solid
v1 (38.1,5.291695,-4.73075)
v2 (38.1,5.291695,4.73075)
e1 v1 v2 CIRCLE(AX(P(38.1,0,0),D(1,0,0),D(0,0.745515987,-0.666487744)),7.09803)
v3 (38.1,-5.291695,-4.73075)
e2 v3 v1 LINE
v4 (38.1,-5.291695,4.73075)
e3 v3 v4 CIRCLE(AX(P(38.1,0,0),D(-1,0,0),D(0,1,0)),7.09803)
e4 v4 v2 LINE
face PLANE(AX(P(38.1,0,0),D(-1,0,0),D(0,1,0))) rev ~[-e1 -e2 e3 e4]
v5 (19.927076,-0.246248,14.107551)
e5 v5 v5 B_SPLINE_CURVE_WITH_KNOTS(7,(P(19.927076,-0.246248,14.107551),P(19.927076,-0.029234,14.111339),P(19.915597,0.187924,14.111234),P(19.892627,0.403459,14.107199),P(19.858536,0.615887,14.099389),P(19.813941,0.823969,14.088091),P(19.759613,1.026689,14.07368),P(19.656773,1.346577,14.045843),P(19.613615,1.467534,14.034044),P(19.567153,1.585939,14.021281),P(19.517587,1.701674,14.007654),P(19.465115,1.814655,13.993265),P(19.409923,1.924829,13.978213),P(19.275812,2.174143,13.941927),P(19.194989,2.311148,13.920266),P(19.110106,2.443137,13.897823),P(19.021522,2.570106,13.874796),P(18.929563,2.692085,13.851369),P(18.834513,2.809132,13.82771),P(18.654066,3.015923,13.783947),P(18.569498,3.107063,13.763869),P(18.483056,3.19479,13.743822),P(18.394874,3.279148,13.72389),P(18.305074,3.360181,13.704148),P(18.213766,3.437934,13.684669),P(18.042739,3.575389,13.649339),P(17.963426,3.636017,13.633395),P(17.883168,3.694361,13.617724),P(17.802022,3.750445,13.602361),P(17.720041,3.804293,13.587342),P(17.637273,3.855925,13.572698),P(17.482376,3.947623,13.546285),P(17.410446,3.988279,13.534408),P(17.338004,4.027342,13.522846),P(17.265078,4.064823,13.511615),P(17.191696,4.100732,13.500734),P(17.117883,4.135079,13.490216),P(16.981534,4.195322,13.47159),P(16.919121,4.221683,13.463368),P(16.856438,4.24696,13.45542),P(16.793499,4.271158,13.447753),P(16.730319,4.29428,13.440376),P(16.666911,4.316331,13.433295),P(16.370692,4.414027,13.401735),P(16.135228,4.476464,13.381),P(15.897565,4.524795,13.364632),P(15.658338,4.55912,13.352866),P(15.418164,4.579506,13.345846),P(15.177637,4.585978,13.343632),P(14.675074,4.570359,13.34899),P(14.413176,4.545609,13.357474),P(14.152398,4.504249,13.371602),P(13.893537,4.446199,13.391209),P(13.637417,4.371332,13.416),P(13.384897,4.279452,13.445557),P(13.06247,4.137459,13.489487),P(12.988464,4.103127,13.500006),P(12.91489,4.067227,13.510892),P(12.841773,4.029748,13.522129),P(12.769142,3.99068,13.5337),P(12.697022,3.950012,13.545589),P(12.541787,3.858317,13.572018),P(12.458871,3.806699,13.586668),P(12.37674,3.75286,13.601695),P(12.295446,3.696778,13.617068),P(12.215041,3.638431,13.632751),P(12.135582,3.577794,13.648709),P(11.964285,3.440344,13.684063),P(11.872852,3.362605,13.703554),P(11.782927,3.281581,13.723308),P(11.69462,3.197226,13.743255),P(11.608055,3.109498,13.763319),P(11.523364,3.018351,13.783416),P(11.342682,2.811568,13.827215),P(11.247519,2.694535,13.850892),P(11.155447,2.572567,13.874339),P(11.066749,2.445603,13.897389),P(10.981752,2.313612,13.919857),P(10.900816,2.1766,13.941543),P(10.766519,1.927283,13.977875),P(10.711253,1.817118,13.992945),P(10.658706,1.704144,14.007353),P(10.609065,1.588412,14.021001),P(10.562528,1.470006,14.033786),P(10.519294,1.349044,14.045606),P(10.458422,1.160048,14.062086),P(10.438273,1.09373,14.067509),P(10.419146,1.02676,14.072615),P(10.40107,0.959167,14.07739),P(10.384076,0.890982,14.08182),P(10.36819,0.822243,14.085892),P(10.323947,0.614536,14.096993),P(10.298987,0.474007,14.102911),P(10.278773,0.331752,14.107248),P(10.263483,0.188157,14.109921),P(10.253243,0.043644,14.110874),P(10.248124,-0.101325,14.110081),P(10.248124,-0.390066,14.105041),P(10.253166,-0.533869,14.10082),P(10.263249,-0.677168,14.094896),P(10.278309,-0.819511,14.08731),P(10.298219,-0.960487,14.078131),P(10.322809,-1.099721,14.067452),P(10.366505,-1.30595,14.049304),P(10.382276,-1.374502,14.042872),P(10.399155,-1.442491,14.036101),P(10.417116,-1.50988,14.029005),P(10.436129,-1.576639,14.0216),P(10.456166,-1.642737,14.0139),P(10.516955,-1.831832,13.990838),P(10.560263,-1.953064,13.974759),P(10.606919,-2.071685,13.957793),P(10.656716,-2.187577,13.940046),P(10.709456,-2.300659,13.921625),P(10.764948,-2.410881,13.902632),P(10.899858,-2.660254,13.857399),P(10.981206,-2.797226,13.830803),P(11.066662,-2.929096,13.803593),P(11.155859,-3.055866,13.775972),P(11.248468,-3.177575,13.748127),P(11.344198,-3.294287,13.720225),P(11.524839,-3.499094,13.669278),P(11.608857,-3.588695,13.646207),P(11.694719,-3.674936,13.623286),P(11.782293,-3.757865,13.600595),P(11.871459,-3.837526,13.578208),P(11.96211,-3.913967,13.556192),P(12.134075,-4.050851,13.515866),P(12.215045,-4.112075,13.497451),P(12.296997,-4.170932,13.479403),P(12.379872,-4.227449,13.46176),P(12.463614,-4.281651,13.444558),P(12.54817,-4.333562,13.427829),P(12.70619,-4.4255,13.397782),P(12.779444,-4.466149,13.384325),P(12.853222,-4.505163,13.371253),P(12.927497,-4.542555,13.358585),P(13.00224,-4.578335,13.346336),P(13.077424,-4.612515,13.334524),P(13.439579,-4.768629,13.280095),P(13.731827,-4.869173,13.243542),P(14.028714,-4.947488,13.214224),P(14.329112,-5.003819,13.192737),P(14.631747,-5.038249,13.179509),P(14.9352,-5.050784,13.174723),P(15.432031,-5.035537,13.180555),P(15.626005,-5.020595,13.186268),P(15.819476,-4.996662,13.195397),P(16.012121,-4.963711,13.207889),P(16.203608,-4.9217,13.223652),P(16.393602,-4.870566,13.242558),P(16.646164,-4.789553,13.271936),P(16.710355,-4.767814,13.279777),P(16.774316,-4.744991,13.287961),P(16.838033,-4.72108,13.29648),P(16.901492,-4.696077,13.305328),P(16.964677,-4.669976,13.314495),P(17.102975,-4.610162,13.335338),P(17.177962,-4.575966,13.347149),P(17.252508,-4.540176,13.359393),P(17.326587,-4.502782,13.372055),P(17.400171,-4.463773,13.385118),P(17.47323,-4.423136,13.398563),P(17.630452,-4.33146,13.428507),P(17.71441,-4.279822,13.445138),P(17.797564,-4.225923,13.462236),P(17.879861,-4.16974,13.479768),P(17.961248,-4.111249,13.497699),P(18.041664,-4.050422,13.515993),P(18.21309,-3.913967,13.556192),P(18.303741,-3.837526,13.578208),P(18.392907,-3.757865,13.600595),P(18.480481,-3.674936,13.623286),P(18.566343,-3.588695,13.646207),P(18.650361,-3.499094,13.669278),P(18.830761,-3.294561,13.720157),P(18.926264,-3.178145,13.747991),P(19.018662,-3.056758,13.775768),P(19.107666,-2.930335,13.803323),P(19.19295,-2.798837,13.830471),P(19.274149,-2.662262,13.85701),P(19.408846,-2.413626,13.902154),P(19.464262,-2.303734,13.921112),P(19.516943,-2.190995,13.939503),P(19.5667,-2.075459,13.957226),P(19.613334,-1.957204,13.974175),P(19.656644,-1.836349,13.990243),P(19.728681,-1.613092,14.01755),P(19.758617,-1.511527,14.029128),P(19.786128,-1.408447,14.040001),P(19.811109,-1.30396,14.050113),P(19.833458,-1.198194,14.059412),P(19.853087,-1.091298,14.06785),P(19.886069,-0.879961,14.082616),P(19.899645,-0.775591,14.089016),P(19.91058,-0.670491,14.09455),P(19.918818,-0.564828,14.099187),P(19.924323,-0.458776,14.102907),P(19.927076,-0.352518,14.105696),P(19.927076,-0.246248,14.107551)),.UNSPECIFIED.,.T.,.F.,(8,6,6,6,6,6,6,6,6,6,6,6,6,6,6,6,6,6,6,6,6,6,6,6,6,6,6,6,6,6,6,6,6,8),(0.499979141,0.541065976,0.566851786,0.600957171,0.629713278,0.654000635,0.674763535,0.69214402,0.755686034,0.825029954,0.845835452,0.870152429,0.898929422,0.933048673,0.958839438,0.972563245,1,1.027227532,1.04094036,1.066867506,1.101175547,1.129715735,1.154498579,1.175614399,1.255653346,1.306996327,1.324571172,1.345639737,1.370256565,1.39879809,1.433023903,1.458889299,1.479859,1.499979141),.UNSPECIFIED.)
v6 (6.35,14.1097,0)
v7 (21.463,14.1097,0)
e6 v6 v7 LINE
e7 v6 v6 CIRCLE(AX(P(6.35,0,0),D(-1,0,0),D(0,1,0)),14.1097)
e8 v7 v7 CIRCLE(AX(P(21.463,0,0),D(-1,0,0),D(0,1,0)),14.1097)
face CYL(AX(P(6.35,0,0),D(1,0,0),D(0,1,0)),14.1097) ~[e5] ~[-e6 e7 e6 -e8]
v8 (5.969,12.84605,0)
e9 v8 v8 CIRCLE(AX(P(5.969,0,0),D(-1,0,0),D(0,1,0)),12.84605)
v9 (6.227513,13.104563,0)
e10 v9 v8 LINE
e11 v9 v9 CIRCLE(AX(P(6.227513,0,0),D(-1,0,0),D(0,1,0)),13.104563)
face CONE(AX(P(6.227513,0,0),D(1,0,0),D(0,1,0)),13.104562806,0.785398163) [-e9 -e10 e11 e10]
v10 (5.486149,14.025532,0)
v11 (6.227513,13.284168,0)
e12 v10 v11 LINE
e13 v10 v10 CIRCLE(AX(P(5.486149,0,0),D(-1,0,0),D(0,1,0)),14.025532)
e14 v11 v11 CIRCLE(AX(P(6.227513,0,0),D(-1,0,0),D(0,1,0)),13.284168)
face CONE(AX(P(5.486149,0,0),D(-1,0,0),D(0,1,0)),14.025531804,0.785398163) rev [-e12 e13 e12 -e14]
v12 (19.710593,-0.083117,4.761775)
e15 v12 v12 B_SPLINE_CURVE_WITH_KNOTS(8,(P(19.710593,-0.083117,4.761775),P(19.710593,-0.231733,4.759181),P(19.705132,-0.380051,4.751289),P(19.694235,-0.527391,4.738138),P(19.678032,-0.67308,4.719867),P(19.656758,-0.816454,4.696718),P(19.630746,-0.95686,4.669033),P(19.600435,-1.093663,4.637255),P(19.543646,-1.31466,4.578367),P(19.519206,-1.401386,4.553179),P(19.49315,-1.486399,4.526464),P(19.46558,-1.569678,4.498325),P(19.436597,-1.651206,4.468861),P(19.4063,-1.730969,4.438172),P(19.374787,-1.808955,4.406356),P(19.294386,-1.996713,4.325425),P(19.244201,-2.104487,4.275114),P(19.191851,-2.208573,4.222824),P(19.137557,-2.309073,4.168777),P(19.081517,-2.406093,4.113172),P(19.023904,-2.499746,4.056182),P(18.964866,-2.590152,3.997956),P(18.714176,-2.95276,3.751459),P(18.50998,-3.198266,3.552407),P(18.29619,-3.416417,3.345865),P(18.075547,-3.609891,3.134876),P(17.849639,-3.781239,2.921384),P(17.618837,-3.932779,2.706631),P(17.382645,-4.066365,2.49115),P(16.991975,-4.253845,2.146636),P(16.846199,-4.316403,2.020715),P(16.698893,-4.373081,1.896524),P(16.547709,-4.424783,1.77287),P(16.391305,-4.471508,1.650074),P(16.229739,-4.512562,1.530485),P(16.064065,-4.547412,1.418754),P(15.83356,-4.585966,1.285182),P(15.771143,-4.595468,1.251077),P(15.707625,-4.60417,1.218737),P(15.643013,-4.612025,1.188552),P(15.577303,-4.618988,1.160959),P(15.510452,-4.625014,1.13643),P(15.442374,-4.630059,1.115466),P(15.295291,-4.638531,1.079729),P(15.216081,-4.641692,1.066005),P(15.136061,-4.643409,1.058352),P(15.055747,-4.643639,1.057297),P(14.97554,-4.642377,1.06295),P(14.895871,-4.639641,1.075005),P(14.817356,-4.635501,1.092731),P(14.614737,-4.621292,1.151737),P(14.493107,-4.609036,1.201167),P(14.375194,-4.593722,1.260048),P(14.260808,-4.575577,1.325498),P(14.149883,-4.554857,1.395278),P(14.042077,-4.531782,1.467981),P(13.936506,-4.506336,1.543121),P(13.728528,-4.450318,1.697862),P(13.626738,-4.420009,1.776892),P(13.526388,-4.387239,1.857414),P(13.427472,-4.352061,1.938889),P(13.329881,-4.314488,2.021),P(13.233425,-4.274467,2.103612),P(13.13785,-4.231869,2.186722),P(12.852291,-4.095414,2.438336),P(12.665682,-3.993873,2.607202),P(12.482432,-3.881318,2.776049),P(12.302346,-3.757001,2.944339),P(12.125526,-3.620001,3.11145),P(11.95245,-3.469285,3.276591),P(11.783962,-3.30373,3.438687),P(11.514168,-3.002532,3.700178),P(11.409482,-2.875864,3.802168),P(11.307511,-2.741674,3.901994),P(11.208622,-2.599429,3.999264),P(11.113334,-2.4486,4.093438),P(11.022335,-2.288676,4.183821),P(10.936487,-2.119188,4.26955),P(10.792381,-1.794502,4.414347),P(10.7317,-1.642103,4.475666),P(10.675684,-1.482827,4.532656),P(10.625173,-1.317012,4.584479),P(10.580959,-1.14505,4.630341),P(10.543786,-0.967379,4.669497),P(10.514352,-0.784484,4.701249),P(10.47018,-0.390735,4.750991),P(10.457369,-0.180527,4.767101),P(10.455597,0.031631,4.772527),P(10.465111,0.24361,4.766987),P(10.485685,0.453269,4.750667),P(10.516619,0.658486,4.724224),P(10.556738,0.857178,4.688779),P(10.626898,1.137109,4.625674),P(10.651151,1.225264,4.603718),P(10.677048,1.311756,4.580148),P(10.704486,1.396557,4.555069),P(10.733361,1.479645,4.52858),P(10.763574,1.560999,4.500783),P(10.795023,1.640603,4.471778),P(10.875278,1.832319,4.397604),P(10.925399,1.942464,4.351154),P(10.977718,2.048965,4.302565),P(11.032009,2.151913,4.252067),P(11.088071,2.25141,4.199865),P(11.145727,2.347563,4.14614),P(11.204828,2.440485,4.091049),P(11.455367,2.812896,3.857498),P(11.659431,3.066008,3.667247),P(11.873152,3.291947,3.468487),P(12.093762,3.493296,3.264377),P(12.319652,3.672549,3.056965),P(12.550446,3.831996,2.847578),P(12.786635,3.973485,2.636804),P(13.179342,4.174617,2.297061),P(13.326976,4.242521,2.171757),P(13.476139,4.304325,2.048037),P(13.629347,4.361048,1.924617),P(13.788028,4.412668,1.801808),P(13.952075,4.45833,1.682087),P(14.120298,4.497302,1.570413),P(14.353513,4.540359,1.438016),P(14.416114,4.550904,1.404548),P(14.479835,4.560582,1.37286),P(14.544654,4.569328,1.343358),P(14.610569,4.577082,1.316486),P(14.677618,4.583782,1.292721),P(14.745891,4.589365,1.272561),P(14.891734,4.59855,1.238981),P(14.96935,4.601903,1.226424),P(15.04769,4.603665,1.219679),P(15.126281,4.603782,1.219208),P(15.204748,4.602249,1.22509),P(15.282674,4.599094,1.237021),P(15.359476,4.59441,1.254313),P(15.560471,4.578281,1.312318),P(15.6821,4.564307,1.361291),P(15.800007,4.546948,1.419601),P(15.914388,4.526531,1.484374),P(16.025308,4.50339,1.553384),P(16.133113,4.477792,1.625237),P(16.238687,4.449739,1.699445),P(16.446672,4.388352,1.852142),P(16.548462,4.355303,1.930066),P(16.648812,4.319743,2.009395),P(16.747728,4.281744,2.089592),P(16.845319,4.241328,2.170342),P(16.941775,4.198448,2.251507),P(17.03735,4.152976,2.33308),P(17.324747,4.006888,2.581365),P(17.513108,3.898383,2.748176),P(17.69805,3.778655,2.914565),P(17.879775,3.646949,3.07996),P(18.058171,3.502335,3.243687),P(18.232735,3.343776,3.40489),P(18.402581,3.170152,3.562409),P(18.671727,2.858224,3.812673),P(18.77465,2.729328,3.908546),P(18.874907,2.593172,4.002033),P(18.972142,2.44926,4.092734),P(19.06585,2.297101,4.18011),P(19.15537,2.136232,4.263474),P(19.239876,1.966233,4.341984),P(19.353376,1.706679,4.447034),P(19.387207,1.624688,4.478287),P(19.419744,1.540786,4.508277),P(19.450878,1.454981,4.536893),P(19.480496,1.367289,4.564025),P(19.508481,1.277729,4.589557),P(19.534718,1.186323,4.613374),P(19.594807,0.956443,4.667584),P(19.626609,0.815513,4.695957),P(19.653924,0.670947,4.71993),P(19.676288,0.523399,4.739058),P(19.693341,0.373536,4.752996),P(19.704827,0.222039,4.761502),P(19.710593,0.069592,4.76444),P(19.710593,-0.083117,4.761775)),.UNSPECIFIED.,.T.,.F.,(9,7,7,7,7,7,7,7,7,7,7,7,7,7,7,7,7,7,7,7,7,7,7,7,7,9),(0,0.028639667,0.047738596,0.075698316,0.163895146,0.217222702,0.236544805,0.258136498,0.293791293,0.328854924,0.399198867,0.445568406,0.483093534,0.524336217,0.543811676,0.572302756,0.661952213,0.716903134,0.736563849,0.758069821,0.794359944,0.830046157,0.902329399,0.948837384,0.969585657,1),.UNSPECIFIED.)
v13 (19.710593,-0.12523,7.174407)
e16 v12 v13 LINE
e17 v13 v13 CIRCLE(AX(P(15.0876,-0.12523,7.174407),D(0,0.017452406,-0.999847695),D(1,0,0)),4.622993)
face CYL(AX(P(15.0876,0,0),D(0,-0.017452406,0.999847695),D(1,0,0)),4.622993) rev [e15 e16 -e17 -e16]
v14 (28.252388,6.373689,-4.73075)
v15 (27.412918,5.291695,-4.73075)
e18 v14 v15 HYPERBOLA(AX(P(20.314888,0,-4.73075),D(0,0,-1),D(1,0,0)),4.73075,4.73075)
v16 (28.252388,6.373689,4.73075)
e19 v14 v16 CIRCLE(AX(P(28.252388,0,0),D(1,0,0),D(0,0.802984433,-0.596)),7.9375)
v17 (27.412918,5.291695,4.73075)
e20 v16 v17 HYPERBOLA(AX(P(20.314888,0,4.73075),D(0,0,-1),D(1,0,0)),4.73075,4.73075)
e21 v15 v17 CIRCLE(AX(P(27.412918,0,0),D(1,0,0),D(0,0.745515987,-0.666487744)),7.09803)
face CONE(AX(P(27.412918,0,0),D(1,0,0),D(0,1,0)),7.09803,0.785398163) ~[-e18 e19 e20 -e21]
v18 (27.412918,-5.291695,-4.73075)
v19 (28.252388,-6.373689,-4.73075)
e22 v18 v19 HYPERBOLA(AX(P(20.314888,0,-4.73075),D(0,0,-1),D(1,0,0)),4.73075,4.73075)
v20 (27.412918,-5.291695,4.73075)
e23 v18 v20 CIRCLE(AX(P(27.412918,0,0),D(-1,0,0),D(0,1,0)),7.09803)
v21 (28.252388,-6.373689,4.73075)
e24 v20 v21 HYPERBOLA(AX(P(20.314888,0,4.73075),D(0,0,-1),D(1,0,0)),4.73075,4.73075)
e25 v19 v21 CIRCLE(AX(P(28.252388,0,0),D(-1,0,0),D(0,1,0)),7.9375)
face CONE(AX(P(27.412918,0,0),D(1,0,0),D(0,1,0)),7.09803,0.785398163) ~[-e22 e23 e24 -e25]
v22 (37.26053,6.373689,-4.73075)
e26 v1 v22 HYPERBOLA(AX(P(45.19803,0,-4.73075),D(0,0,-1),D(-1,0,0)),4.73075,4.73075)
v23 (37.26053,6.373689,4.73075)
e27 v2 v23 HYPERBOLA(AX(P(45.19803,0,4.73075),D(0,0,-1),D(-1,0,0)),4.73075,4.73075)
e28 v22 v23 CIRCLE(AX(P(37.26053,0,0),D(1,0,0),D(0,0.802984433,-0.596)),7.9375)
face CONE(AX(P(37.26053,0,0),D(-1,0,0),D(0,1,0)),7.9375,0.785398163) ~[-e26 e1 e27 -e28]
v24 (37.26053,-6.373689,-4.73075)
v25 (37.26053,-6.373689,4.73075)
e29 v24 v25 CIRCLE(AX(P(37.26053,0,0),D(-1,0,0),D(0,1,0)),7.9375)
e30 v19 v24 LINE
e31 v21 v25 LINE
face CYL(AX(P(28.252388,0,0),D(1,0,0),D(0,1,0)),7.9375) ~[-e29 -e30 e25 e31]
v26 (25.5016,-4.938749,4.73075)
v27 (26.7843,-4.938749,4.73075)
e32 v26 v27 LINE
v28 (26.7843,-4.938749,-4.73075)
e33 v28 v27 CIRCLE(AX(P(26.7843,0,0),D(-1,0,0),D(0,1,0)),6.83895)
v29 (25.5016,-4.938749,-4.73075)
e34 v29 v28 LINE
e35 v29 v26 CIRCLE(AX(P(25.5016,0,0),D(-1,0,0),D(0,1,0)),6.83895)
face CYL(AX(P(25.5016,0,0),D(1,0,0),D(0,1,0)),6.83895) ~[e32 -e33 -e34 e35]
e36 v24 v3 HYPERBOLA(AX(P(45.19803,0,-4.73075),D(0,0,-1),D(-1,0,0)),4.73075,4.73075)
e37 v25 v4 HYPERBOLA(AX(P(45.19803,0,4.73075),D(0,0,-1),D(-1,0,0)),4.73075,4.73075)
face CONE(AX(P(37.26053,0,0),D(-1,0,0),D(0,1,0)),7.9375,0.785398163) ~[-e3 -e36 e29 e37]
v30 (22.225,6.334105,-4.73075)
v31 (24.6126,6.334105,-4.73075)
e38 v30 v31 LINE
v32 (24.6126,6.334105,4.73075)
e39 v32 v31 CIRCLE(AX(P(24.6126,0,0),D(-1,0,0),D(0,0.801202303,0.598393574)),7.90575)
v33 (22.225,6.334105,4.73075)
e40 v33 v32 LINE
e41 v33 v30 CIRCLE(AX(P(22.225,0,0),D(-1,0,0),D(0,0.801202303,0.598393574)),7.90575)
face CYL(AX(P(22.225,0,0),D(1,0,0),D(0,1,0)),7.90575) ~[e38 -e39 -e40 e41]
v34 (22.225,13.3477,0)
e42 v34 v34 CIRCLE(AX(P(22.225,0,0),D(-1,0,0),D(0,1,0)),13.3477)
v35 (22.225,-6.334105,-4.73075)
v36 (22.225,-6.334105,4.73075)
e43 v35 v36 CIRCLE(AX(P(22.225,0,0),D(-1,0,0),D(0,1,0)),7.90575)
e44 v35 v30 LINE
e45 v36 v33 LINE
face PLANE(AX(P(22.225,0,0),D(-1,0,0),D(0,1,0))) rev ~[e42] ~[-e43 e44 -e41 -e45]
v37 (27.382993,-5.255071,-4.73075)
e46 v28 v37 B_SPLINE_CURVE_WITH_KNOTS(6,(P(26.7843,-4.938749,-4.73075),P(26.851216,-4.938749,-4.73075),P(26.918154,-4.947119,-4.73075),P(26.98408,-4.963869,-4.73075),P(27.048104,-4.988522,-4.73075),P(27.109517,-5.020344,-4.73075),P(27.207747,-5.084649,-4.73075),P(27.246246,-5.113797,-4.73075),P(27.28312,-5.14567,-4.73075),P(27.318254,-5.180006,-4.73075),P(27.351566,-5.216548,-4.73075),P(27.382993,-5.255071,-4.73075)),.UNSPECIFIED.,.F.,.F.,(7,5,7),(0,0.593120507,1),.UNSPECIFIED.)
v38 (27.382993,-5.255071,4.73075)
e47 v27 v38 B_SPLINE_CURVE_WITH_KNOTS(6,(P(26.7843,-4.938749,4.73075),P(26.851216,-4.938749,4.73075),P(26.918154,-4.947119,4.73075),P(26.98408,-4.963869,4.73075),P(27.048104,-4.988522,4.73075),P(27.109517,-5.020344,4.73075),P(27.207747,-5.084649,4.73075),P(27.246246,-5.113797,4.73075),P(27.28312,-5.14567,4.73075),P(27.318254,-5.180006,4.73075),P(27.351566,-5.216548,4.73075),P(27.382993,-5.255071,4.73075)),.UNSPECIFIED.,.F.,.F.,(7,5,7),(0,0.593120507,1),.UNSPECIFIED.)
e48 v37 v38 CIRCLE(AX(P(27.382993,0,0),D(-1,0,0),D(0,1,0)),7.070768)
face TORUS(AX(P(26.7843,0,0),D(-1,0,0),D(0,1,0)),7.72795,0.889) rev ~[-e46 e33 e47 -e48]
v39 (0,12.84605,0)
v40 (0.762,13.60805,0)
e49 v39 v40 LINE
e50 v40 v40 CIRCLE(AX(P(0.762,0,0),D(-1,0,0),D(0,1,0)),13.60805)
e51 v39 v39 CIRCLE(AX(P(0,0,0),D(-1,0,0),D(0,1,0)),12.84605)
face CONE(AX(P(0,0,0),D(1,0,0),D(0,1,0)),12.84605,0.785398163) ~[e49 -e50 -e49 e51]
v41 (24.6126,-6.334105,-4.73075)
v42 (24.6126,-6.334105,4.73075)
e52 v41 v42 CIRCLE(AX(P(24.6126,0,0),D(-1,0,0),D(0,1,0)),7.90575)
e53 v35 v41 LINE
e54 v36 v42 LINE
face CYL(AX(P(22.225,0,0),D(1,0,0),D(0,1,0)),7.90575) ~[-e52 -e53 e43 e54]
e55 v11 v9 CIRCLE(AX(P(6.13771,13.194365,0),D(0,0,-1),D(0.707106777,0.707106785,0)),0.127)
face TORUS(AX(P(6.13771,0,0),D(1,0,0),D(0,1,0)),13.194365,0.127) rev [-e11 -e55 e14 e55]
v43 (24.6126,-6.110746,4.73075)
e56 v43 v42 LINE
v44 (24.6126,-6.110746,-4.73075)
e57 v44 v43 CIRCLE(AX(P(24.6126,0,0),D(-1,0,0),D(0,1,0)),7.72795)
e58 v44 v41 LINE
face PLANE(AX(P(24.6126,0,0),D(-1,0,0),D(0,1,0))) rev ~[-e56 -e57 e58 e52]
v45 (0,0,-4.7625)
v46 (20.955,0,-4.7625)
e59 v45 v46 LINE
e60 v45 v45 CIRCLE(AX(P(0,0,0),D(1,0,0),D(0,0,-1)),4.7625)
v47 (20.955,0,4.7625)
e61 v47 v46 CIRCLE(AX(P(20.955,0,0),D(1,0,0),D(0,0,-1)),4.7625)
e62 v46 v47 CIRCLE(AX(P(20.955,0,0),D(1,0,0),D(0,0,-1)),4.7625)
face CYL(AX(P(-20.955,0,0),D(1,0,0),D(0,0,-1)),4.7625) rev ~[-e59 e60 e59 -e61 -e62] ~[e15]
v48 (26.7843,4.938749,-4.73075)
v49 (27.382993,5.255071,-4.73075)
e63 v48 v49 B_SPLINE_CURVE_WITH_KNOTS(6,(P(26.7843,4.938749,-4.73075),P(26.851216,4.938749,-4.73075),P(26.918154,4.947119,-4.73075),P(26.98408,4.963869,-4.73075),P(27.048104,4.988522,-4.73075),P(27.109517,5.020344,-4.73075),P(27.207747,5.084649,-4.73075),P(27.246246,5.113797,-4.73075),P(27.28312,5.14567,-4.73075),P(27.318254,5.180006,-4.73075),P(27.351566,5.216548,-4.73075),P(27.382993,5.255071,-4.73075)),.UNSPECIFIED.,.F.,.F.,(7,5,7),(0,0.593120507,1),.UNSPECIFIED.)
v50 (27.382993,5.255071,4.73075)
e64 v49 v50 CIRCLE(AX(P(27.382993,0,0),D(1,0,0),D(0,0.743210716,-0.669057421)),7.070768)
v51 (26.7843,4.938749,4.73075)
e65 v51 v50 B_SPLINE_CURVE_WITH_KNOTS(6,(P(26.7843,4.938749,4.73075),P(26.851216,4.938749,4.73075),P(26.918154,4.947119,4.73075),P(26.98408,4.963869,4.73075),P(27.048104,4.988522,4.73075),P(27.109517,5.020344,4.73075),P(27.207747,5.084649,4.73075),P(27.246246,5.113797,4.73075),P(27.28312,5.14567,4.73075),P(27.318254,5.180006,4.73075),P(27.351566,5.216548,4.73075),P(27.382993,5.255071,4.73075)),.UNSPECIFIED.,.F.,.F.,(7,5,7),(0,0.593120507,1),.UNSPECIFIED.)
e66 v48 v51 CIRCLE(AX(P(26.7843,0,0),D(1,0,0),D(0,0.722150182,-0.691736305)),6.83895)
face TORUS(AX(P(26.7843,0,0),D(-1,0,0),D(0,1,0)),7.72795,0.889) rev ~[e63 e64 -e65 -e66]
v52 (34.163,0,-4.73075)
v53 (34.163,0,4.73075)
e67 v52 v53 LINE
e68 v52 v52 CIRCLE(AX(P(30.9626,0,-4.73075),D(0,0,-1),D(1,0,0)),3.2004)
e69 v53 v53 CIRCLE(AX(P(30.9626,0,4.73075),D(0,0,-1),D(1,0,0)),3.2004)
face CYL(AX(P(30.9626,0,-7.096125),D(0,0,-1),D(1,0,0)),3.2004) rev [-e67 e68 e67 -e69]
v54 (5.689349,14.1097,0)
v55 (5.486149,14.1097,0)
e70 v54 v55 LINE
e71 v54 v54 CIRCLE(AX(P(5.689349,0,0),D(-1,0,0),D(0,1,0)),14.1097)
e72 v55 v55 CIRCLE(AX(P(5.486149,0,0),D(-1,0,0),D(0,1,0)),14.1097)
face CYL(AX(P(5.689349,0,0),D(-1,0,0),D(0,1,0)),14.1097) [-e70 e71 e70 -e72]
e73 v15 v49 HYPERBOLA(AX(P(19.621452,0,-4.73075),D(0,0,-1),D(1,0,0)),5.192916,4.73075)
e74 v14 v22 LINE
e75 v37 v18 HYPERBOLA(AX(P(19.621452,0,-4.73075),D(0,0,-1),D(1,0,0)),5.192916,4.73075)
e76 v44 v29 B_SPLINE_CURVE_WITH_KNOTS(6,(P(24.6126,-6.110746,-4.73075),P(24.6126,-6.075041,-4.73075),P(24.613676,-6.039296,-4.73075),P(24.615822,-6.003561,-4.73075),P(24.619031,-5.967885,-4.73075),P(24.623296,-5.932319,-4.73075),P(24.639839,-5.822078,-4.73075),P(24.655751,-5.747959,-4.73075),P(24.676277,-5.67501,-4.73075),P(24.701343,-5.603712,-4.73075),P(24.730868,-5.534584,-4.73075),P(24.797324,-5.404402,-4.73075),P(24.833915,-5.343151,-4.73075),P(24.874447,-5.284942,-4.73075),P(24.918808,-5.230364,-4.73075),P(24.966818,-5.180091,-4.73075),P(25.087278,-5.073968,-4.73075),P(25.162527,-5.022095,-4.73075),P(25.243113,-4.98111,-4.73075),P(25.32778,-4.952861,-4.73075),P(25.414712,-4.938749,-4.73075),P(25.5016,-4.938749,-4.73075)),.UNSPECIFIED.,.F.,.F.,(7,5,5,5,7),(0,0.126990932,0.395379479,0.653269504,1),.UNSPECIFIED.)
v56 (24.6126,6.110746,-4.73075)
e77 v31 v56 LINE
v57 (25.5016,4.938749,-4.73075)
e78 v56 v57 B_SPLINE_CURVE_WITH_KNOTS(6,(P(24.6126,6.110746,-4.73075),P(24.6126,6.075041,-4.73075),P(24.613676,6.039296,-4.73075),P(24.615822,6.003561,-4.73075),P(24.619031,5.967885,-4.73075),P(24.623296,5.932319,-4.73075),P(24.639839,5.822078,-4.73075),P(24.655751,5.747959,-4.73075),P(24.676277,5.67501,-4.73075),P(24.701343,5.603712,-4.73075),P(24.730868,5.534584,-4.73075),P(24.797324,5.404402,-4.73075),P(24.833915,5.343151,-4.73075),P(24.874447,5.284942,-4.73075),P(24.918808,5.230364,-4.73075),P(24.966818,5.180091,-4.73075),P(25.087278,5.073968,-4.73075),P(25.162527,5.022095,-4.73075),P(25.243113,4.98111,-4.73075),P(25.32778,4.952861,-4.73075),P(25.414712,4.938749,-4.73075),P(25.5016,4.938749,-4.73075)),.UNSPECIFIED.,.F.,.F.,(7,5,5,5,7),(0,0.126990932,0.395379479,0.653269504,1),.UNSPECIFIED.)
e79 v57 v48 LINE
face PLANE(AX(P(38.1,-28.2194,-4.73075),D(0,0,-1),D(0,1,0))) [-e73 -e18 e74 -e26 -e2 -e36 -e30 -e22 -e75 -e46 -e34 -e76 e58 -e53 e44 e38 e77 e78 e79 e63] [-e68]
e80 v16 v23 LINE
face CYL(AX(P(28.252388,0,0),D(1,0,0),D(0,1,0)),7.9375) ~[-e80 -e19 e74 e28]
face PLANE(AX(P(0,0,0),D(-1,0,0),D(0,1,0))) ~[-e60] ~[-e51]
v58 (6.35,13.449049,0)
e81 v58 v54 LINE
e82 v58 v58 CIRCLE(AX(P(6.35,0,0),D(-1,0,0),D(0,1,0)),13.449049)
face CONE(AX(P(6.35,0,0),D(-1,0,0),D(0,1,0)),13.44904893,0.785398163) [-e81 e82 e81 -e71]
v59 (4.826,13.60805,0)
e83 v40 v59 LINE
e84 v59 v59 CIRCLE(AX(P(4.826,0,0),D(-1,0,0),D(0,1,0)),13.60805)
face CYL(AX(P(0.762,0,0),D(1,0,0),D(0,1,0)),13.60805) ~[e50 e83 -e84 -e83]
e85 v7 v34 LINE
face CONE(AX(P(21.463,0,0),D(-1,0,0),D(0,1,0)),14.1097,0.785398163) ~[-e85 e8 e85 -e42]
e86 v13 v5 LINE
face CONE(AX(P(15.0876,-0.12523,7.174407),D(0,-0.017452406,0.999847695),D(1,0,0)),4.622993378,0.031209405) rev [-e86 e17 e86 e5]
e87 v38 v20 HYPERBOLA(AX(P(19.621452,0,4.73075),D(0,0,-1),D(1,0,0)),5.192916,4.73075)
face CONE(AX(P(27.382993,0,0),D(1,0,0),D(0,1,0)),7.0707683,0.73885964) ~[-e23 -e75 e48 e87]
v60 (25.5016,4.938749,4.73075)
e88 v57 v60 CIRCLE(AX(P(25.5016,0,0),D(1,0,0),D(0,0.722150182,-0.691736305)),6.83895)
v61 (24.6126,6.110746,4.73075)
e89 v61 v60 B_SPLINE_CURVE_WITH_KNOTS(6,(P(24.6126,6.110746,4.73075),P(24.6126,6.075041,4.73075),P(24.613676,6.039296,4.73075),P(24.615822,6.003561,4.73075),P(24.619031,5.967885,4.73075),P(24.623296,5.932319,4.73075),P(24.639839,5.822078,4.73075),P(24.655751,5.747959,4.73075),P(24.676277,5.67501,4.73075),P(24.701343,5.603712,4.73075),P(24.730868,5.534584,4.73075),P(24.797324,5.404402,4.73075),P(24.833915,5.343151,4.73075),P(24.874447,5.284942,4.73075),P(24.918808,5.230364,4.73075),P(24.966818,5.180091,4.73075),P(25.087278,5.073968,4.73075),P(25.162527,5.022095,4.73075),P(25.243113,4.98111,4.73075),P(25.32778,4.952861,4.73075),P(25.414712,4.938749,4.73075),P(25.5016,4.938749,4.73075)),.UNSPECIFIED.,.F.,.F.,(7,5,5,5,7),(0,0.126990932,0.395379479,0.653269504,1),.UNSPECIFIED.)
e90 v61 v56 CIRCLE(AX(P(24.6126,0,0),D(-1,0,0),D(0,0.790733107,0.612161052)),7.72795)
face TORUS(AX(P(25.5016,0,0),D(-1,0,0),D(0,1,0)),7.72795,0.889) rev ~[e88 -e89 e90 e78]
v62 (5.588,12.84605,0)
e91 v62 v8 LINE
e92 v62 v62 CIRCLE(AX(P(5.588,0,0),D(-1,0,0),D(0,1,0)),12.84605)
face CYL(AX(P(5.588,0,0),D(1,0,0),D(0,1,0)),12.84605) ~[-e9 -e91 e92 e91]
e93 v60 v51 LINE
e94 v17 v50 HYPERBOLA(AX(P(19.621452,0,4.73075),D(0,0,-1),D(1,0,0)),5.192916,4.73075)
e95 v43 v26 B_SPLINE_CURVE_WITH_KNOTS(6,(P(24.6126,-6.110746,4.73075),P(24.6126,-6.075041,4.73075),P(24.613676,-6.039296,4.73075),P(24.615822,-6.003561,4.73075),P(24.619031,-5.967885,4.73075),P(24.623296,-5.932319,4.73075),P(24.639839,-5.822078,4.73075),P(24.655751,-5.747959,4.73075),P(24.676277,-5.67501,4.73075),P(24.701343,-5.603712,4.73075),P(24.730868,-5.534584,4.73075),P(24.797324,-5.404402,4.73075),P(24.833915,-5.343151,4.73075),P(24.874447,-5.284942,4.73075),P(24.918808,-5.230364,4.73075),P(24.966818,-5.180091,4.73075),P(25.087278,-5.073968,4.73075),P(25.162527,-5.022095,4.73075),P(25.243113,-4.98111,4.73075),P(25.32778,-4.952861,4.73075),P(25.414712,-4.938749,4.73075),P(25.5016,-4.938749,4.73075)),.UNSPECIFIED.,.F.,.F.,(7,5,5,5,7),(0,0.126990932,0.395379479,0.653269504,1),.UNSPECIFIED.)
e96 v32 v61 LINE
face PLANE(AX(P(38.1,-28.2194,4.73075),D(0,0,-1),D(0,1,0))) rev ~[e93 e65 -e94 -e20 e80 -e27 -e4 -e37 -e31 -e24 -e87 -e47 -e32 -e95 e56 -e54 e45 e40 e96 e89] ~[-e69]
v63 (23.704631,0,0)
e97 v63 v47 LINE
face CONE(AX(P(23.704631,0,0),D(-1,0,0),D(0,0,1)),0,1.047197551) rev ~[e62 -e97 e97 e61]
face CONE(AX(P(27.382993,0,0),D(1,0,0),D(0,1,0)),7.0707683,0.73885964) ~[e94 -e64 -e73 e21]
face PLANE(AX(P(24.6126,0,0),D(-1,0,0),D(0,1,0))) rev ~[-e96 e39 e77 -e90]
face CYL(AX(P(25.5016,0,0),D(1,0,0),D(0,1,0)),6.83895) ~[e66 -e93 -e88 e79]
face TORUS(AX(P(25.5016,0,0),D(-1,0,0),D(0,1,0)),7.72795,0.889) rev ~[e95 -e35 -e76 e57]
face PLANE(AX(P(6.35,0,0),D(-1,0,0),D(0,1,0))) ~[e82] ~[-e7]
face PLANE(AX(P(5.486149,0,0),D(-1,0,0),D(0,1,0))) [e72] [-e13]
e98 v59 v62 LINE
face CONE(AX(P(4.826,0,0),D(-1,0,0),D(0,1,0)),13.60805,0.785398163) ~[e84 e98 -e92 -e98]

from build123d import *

# Parameters (mm, degrees)
SKETCH3_W               = 56.4388
SKETCH3_H               = 112.8776
SKETCH3_W_2             = 9.4615
SKETCH3_H_2             = 56.4388
CUT_EXTRUDE1_DEPTH      = 15.875
HOLE1_D                 = 9.525
HOLE1_DEPTH             = 20.955
HOLE1_TIP               = 2.749630657
CUT_EXTRUDE2_DEPTH      = 7.096125
CUT_EXTRUDE2_DEPTH_BACK = 7.096125
SKETCH8_R               = 3.2004


with BuildPart() as part:
    # Sketch1 → Revolve1 (revolve)
    with BuildSketch(Plane.XY):
        Polygon((0, 0), (0, 12.84605), (0.762, 13.60805), (4.826, 13.60805), (5.588, 12.84605), (6.35, 12.84605), (6.35, 14.1097), (21.463, 14.1097), (22.225, 13.3477), (22.225, 0), align=None)
    revolve(axis=Axis((22.225, 0, 0), (-1, 0, 0)))

    # Sketch2 → Revolve2 (revolve)
    with BuildSketch(Plane.XY):
        with BuildLine():
            Line((22.225, 0), (22.225, 7.90575))
            Line((22.225, 7.90575), (24.6126, 7.90575))
            Line((24.6126, 7.90575), (24.6126, 7.72795))
            ThreePointArc((24.6126, 7.72795), (24.872982072, 7.099332072), (25.5016, 6.83895))
            Line((25.5016, 6.83895), (26.7843, 6.83895))
            ThreePointArc((26.7843, 6.83895), (27.10530348, 6.898927826), (27.38299292, 7.0707683))
            Line((27.38299292, 7.0707683), (27.412917928, 7.09803))
            Line((27.412917928, 7.09803), (28.252387928, 7.9375))
            Line((28.252387928, 7.9375), (37.26053, 7.9375))
            Line((37.26053, 7.9375), (38.1, 7.09803))
            Line((38.1, 7.09803), (38.1, 0))
            Line((38.1, 0), (22.225, 0))
        make_face()
    revolve(axis=Axis((38.1, 0, 0), (-1, 0, 0)))

    # Sketch3 → Cut-Extrude1 (cut)
    with BuildSketch(Plane(origin=(38.1, 0, 0), x_dir=(0, 0, -1), z_dir=(1, 0, 0))):
        Rectangle(SKETCH3_W, SKETCH3_H)
        Rectangle(SKETCH3_W_2, SKETCH3_H_2, mode=Mode.SUBTRACT)
    extrude(amount=-CUT_EXTRUDE1_DEPTH, mode=Mode.SUBTRACT)

    # Hole1
    with Locations(Plane.ZY):
        with Locations((0, 0)):
            Hole(HOLE1_D / 2, depth=HOLE1_DEPTH)
            with Locations((0, 0, -(HOLE1_DEPTH + HOLE1_TIP / 2))):  # 120° drill point
                Cone(0, HOLE1_D / 2, HOLE1_TIP, mode=Mode.SUBTRACT)

    # Sketch6 → Cut-Revolve1 (revolve, cut)
    with BuildSketch(Plane(origin=(0, 0, 0), x_dir=(1, 0, 0), z_dir=(0, 0.9998476951563913, 0.01745240643728403))):
        Polygon((15.0876, 0), (19.710593378, 0), (19.710593378, -7.1755), (19.927075925, -14.1097), (15.0876, -14.1097), align=None)
    revolve(axis=Axis((15.0876, -0.246248219, 14.107551024), (0, 0.01745240643728403, -0.9998476951563913)), mode=Mode.SUBTRACT)

    # Sketch7 → Revolve3 (revolve)
    with BuildSketch(Plane.XY):
        with BuildLine():
            Line((5.48614893, 14.025531804), (6.227512806, 13.284167928))
            ThreePointArc((6.227512806, 13.284167928), (6.264710245, 13.194365367), (6.227512806, 13.104562806))
            Line((6.227512806, 13.104562806), (5.969, 12.84605))
            Line((5.969, 12.84605), (5.588, 12.84605))
            Line((5.588, 12.84605), (5.588, 12.59205))
            Line((5.588, 12.59205), (6.35, 12.59205))
            Line((6.35, 12.59205), (6.35, 13.44904893))
            Line((6.35, 13.44904893), (5.68934893, 14.1097))
            Line((5.68934893, 14.1097), (5.48614893, 14.1097))
            Line((5.48614893, 14.1097), (5.48614893, 14.025531804))
        make_face()
    revolve(axis=Axis((6.35, 0, 0), (-1, 0, 0)))

    # Sketch8 → Cut-Extrude2 (cut, two sides: drawn at the far end of the back side and taken through both)
    with BuildSketch(Plane.XY.offset(-CUT_EXTRUDE2_DEPTH_BACK)):
        with Locations((30.9626, 0)):
            Circle(SKETCH8_R)
    extrude(amount=CUT_EXTRUDE2_DEPTH + CUT_EXTRUDE2_DEPTH_BACK, mode=Mode.SUBTRACT)


solid = part.part
